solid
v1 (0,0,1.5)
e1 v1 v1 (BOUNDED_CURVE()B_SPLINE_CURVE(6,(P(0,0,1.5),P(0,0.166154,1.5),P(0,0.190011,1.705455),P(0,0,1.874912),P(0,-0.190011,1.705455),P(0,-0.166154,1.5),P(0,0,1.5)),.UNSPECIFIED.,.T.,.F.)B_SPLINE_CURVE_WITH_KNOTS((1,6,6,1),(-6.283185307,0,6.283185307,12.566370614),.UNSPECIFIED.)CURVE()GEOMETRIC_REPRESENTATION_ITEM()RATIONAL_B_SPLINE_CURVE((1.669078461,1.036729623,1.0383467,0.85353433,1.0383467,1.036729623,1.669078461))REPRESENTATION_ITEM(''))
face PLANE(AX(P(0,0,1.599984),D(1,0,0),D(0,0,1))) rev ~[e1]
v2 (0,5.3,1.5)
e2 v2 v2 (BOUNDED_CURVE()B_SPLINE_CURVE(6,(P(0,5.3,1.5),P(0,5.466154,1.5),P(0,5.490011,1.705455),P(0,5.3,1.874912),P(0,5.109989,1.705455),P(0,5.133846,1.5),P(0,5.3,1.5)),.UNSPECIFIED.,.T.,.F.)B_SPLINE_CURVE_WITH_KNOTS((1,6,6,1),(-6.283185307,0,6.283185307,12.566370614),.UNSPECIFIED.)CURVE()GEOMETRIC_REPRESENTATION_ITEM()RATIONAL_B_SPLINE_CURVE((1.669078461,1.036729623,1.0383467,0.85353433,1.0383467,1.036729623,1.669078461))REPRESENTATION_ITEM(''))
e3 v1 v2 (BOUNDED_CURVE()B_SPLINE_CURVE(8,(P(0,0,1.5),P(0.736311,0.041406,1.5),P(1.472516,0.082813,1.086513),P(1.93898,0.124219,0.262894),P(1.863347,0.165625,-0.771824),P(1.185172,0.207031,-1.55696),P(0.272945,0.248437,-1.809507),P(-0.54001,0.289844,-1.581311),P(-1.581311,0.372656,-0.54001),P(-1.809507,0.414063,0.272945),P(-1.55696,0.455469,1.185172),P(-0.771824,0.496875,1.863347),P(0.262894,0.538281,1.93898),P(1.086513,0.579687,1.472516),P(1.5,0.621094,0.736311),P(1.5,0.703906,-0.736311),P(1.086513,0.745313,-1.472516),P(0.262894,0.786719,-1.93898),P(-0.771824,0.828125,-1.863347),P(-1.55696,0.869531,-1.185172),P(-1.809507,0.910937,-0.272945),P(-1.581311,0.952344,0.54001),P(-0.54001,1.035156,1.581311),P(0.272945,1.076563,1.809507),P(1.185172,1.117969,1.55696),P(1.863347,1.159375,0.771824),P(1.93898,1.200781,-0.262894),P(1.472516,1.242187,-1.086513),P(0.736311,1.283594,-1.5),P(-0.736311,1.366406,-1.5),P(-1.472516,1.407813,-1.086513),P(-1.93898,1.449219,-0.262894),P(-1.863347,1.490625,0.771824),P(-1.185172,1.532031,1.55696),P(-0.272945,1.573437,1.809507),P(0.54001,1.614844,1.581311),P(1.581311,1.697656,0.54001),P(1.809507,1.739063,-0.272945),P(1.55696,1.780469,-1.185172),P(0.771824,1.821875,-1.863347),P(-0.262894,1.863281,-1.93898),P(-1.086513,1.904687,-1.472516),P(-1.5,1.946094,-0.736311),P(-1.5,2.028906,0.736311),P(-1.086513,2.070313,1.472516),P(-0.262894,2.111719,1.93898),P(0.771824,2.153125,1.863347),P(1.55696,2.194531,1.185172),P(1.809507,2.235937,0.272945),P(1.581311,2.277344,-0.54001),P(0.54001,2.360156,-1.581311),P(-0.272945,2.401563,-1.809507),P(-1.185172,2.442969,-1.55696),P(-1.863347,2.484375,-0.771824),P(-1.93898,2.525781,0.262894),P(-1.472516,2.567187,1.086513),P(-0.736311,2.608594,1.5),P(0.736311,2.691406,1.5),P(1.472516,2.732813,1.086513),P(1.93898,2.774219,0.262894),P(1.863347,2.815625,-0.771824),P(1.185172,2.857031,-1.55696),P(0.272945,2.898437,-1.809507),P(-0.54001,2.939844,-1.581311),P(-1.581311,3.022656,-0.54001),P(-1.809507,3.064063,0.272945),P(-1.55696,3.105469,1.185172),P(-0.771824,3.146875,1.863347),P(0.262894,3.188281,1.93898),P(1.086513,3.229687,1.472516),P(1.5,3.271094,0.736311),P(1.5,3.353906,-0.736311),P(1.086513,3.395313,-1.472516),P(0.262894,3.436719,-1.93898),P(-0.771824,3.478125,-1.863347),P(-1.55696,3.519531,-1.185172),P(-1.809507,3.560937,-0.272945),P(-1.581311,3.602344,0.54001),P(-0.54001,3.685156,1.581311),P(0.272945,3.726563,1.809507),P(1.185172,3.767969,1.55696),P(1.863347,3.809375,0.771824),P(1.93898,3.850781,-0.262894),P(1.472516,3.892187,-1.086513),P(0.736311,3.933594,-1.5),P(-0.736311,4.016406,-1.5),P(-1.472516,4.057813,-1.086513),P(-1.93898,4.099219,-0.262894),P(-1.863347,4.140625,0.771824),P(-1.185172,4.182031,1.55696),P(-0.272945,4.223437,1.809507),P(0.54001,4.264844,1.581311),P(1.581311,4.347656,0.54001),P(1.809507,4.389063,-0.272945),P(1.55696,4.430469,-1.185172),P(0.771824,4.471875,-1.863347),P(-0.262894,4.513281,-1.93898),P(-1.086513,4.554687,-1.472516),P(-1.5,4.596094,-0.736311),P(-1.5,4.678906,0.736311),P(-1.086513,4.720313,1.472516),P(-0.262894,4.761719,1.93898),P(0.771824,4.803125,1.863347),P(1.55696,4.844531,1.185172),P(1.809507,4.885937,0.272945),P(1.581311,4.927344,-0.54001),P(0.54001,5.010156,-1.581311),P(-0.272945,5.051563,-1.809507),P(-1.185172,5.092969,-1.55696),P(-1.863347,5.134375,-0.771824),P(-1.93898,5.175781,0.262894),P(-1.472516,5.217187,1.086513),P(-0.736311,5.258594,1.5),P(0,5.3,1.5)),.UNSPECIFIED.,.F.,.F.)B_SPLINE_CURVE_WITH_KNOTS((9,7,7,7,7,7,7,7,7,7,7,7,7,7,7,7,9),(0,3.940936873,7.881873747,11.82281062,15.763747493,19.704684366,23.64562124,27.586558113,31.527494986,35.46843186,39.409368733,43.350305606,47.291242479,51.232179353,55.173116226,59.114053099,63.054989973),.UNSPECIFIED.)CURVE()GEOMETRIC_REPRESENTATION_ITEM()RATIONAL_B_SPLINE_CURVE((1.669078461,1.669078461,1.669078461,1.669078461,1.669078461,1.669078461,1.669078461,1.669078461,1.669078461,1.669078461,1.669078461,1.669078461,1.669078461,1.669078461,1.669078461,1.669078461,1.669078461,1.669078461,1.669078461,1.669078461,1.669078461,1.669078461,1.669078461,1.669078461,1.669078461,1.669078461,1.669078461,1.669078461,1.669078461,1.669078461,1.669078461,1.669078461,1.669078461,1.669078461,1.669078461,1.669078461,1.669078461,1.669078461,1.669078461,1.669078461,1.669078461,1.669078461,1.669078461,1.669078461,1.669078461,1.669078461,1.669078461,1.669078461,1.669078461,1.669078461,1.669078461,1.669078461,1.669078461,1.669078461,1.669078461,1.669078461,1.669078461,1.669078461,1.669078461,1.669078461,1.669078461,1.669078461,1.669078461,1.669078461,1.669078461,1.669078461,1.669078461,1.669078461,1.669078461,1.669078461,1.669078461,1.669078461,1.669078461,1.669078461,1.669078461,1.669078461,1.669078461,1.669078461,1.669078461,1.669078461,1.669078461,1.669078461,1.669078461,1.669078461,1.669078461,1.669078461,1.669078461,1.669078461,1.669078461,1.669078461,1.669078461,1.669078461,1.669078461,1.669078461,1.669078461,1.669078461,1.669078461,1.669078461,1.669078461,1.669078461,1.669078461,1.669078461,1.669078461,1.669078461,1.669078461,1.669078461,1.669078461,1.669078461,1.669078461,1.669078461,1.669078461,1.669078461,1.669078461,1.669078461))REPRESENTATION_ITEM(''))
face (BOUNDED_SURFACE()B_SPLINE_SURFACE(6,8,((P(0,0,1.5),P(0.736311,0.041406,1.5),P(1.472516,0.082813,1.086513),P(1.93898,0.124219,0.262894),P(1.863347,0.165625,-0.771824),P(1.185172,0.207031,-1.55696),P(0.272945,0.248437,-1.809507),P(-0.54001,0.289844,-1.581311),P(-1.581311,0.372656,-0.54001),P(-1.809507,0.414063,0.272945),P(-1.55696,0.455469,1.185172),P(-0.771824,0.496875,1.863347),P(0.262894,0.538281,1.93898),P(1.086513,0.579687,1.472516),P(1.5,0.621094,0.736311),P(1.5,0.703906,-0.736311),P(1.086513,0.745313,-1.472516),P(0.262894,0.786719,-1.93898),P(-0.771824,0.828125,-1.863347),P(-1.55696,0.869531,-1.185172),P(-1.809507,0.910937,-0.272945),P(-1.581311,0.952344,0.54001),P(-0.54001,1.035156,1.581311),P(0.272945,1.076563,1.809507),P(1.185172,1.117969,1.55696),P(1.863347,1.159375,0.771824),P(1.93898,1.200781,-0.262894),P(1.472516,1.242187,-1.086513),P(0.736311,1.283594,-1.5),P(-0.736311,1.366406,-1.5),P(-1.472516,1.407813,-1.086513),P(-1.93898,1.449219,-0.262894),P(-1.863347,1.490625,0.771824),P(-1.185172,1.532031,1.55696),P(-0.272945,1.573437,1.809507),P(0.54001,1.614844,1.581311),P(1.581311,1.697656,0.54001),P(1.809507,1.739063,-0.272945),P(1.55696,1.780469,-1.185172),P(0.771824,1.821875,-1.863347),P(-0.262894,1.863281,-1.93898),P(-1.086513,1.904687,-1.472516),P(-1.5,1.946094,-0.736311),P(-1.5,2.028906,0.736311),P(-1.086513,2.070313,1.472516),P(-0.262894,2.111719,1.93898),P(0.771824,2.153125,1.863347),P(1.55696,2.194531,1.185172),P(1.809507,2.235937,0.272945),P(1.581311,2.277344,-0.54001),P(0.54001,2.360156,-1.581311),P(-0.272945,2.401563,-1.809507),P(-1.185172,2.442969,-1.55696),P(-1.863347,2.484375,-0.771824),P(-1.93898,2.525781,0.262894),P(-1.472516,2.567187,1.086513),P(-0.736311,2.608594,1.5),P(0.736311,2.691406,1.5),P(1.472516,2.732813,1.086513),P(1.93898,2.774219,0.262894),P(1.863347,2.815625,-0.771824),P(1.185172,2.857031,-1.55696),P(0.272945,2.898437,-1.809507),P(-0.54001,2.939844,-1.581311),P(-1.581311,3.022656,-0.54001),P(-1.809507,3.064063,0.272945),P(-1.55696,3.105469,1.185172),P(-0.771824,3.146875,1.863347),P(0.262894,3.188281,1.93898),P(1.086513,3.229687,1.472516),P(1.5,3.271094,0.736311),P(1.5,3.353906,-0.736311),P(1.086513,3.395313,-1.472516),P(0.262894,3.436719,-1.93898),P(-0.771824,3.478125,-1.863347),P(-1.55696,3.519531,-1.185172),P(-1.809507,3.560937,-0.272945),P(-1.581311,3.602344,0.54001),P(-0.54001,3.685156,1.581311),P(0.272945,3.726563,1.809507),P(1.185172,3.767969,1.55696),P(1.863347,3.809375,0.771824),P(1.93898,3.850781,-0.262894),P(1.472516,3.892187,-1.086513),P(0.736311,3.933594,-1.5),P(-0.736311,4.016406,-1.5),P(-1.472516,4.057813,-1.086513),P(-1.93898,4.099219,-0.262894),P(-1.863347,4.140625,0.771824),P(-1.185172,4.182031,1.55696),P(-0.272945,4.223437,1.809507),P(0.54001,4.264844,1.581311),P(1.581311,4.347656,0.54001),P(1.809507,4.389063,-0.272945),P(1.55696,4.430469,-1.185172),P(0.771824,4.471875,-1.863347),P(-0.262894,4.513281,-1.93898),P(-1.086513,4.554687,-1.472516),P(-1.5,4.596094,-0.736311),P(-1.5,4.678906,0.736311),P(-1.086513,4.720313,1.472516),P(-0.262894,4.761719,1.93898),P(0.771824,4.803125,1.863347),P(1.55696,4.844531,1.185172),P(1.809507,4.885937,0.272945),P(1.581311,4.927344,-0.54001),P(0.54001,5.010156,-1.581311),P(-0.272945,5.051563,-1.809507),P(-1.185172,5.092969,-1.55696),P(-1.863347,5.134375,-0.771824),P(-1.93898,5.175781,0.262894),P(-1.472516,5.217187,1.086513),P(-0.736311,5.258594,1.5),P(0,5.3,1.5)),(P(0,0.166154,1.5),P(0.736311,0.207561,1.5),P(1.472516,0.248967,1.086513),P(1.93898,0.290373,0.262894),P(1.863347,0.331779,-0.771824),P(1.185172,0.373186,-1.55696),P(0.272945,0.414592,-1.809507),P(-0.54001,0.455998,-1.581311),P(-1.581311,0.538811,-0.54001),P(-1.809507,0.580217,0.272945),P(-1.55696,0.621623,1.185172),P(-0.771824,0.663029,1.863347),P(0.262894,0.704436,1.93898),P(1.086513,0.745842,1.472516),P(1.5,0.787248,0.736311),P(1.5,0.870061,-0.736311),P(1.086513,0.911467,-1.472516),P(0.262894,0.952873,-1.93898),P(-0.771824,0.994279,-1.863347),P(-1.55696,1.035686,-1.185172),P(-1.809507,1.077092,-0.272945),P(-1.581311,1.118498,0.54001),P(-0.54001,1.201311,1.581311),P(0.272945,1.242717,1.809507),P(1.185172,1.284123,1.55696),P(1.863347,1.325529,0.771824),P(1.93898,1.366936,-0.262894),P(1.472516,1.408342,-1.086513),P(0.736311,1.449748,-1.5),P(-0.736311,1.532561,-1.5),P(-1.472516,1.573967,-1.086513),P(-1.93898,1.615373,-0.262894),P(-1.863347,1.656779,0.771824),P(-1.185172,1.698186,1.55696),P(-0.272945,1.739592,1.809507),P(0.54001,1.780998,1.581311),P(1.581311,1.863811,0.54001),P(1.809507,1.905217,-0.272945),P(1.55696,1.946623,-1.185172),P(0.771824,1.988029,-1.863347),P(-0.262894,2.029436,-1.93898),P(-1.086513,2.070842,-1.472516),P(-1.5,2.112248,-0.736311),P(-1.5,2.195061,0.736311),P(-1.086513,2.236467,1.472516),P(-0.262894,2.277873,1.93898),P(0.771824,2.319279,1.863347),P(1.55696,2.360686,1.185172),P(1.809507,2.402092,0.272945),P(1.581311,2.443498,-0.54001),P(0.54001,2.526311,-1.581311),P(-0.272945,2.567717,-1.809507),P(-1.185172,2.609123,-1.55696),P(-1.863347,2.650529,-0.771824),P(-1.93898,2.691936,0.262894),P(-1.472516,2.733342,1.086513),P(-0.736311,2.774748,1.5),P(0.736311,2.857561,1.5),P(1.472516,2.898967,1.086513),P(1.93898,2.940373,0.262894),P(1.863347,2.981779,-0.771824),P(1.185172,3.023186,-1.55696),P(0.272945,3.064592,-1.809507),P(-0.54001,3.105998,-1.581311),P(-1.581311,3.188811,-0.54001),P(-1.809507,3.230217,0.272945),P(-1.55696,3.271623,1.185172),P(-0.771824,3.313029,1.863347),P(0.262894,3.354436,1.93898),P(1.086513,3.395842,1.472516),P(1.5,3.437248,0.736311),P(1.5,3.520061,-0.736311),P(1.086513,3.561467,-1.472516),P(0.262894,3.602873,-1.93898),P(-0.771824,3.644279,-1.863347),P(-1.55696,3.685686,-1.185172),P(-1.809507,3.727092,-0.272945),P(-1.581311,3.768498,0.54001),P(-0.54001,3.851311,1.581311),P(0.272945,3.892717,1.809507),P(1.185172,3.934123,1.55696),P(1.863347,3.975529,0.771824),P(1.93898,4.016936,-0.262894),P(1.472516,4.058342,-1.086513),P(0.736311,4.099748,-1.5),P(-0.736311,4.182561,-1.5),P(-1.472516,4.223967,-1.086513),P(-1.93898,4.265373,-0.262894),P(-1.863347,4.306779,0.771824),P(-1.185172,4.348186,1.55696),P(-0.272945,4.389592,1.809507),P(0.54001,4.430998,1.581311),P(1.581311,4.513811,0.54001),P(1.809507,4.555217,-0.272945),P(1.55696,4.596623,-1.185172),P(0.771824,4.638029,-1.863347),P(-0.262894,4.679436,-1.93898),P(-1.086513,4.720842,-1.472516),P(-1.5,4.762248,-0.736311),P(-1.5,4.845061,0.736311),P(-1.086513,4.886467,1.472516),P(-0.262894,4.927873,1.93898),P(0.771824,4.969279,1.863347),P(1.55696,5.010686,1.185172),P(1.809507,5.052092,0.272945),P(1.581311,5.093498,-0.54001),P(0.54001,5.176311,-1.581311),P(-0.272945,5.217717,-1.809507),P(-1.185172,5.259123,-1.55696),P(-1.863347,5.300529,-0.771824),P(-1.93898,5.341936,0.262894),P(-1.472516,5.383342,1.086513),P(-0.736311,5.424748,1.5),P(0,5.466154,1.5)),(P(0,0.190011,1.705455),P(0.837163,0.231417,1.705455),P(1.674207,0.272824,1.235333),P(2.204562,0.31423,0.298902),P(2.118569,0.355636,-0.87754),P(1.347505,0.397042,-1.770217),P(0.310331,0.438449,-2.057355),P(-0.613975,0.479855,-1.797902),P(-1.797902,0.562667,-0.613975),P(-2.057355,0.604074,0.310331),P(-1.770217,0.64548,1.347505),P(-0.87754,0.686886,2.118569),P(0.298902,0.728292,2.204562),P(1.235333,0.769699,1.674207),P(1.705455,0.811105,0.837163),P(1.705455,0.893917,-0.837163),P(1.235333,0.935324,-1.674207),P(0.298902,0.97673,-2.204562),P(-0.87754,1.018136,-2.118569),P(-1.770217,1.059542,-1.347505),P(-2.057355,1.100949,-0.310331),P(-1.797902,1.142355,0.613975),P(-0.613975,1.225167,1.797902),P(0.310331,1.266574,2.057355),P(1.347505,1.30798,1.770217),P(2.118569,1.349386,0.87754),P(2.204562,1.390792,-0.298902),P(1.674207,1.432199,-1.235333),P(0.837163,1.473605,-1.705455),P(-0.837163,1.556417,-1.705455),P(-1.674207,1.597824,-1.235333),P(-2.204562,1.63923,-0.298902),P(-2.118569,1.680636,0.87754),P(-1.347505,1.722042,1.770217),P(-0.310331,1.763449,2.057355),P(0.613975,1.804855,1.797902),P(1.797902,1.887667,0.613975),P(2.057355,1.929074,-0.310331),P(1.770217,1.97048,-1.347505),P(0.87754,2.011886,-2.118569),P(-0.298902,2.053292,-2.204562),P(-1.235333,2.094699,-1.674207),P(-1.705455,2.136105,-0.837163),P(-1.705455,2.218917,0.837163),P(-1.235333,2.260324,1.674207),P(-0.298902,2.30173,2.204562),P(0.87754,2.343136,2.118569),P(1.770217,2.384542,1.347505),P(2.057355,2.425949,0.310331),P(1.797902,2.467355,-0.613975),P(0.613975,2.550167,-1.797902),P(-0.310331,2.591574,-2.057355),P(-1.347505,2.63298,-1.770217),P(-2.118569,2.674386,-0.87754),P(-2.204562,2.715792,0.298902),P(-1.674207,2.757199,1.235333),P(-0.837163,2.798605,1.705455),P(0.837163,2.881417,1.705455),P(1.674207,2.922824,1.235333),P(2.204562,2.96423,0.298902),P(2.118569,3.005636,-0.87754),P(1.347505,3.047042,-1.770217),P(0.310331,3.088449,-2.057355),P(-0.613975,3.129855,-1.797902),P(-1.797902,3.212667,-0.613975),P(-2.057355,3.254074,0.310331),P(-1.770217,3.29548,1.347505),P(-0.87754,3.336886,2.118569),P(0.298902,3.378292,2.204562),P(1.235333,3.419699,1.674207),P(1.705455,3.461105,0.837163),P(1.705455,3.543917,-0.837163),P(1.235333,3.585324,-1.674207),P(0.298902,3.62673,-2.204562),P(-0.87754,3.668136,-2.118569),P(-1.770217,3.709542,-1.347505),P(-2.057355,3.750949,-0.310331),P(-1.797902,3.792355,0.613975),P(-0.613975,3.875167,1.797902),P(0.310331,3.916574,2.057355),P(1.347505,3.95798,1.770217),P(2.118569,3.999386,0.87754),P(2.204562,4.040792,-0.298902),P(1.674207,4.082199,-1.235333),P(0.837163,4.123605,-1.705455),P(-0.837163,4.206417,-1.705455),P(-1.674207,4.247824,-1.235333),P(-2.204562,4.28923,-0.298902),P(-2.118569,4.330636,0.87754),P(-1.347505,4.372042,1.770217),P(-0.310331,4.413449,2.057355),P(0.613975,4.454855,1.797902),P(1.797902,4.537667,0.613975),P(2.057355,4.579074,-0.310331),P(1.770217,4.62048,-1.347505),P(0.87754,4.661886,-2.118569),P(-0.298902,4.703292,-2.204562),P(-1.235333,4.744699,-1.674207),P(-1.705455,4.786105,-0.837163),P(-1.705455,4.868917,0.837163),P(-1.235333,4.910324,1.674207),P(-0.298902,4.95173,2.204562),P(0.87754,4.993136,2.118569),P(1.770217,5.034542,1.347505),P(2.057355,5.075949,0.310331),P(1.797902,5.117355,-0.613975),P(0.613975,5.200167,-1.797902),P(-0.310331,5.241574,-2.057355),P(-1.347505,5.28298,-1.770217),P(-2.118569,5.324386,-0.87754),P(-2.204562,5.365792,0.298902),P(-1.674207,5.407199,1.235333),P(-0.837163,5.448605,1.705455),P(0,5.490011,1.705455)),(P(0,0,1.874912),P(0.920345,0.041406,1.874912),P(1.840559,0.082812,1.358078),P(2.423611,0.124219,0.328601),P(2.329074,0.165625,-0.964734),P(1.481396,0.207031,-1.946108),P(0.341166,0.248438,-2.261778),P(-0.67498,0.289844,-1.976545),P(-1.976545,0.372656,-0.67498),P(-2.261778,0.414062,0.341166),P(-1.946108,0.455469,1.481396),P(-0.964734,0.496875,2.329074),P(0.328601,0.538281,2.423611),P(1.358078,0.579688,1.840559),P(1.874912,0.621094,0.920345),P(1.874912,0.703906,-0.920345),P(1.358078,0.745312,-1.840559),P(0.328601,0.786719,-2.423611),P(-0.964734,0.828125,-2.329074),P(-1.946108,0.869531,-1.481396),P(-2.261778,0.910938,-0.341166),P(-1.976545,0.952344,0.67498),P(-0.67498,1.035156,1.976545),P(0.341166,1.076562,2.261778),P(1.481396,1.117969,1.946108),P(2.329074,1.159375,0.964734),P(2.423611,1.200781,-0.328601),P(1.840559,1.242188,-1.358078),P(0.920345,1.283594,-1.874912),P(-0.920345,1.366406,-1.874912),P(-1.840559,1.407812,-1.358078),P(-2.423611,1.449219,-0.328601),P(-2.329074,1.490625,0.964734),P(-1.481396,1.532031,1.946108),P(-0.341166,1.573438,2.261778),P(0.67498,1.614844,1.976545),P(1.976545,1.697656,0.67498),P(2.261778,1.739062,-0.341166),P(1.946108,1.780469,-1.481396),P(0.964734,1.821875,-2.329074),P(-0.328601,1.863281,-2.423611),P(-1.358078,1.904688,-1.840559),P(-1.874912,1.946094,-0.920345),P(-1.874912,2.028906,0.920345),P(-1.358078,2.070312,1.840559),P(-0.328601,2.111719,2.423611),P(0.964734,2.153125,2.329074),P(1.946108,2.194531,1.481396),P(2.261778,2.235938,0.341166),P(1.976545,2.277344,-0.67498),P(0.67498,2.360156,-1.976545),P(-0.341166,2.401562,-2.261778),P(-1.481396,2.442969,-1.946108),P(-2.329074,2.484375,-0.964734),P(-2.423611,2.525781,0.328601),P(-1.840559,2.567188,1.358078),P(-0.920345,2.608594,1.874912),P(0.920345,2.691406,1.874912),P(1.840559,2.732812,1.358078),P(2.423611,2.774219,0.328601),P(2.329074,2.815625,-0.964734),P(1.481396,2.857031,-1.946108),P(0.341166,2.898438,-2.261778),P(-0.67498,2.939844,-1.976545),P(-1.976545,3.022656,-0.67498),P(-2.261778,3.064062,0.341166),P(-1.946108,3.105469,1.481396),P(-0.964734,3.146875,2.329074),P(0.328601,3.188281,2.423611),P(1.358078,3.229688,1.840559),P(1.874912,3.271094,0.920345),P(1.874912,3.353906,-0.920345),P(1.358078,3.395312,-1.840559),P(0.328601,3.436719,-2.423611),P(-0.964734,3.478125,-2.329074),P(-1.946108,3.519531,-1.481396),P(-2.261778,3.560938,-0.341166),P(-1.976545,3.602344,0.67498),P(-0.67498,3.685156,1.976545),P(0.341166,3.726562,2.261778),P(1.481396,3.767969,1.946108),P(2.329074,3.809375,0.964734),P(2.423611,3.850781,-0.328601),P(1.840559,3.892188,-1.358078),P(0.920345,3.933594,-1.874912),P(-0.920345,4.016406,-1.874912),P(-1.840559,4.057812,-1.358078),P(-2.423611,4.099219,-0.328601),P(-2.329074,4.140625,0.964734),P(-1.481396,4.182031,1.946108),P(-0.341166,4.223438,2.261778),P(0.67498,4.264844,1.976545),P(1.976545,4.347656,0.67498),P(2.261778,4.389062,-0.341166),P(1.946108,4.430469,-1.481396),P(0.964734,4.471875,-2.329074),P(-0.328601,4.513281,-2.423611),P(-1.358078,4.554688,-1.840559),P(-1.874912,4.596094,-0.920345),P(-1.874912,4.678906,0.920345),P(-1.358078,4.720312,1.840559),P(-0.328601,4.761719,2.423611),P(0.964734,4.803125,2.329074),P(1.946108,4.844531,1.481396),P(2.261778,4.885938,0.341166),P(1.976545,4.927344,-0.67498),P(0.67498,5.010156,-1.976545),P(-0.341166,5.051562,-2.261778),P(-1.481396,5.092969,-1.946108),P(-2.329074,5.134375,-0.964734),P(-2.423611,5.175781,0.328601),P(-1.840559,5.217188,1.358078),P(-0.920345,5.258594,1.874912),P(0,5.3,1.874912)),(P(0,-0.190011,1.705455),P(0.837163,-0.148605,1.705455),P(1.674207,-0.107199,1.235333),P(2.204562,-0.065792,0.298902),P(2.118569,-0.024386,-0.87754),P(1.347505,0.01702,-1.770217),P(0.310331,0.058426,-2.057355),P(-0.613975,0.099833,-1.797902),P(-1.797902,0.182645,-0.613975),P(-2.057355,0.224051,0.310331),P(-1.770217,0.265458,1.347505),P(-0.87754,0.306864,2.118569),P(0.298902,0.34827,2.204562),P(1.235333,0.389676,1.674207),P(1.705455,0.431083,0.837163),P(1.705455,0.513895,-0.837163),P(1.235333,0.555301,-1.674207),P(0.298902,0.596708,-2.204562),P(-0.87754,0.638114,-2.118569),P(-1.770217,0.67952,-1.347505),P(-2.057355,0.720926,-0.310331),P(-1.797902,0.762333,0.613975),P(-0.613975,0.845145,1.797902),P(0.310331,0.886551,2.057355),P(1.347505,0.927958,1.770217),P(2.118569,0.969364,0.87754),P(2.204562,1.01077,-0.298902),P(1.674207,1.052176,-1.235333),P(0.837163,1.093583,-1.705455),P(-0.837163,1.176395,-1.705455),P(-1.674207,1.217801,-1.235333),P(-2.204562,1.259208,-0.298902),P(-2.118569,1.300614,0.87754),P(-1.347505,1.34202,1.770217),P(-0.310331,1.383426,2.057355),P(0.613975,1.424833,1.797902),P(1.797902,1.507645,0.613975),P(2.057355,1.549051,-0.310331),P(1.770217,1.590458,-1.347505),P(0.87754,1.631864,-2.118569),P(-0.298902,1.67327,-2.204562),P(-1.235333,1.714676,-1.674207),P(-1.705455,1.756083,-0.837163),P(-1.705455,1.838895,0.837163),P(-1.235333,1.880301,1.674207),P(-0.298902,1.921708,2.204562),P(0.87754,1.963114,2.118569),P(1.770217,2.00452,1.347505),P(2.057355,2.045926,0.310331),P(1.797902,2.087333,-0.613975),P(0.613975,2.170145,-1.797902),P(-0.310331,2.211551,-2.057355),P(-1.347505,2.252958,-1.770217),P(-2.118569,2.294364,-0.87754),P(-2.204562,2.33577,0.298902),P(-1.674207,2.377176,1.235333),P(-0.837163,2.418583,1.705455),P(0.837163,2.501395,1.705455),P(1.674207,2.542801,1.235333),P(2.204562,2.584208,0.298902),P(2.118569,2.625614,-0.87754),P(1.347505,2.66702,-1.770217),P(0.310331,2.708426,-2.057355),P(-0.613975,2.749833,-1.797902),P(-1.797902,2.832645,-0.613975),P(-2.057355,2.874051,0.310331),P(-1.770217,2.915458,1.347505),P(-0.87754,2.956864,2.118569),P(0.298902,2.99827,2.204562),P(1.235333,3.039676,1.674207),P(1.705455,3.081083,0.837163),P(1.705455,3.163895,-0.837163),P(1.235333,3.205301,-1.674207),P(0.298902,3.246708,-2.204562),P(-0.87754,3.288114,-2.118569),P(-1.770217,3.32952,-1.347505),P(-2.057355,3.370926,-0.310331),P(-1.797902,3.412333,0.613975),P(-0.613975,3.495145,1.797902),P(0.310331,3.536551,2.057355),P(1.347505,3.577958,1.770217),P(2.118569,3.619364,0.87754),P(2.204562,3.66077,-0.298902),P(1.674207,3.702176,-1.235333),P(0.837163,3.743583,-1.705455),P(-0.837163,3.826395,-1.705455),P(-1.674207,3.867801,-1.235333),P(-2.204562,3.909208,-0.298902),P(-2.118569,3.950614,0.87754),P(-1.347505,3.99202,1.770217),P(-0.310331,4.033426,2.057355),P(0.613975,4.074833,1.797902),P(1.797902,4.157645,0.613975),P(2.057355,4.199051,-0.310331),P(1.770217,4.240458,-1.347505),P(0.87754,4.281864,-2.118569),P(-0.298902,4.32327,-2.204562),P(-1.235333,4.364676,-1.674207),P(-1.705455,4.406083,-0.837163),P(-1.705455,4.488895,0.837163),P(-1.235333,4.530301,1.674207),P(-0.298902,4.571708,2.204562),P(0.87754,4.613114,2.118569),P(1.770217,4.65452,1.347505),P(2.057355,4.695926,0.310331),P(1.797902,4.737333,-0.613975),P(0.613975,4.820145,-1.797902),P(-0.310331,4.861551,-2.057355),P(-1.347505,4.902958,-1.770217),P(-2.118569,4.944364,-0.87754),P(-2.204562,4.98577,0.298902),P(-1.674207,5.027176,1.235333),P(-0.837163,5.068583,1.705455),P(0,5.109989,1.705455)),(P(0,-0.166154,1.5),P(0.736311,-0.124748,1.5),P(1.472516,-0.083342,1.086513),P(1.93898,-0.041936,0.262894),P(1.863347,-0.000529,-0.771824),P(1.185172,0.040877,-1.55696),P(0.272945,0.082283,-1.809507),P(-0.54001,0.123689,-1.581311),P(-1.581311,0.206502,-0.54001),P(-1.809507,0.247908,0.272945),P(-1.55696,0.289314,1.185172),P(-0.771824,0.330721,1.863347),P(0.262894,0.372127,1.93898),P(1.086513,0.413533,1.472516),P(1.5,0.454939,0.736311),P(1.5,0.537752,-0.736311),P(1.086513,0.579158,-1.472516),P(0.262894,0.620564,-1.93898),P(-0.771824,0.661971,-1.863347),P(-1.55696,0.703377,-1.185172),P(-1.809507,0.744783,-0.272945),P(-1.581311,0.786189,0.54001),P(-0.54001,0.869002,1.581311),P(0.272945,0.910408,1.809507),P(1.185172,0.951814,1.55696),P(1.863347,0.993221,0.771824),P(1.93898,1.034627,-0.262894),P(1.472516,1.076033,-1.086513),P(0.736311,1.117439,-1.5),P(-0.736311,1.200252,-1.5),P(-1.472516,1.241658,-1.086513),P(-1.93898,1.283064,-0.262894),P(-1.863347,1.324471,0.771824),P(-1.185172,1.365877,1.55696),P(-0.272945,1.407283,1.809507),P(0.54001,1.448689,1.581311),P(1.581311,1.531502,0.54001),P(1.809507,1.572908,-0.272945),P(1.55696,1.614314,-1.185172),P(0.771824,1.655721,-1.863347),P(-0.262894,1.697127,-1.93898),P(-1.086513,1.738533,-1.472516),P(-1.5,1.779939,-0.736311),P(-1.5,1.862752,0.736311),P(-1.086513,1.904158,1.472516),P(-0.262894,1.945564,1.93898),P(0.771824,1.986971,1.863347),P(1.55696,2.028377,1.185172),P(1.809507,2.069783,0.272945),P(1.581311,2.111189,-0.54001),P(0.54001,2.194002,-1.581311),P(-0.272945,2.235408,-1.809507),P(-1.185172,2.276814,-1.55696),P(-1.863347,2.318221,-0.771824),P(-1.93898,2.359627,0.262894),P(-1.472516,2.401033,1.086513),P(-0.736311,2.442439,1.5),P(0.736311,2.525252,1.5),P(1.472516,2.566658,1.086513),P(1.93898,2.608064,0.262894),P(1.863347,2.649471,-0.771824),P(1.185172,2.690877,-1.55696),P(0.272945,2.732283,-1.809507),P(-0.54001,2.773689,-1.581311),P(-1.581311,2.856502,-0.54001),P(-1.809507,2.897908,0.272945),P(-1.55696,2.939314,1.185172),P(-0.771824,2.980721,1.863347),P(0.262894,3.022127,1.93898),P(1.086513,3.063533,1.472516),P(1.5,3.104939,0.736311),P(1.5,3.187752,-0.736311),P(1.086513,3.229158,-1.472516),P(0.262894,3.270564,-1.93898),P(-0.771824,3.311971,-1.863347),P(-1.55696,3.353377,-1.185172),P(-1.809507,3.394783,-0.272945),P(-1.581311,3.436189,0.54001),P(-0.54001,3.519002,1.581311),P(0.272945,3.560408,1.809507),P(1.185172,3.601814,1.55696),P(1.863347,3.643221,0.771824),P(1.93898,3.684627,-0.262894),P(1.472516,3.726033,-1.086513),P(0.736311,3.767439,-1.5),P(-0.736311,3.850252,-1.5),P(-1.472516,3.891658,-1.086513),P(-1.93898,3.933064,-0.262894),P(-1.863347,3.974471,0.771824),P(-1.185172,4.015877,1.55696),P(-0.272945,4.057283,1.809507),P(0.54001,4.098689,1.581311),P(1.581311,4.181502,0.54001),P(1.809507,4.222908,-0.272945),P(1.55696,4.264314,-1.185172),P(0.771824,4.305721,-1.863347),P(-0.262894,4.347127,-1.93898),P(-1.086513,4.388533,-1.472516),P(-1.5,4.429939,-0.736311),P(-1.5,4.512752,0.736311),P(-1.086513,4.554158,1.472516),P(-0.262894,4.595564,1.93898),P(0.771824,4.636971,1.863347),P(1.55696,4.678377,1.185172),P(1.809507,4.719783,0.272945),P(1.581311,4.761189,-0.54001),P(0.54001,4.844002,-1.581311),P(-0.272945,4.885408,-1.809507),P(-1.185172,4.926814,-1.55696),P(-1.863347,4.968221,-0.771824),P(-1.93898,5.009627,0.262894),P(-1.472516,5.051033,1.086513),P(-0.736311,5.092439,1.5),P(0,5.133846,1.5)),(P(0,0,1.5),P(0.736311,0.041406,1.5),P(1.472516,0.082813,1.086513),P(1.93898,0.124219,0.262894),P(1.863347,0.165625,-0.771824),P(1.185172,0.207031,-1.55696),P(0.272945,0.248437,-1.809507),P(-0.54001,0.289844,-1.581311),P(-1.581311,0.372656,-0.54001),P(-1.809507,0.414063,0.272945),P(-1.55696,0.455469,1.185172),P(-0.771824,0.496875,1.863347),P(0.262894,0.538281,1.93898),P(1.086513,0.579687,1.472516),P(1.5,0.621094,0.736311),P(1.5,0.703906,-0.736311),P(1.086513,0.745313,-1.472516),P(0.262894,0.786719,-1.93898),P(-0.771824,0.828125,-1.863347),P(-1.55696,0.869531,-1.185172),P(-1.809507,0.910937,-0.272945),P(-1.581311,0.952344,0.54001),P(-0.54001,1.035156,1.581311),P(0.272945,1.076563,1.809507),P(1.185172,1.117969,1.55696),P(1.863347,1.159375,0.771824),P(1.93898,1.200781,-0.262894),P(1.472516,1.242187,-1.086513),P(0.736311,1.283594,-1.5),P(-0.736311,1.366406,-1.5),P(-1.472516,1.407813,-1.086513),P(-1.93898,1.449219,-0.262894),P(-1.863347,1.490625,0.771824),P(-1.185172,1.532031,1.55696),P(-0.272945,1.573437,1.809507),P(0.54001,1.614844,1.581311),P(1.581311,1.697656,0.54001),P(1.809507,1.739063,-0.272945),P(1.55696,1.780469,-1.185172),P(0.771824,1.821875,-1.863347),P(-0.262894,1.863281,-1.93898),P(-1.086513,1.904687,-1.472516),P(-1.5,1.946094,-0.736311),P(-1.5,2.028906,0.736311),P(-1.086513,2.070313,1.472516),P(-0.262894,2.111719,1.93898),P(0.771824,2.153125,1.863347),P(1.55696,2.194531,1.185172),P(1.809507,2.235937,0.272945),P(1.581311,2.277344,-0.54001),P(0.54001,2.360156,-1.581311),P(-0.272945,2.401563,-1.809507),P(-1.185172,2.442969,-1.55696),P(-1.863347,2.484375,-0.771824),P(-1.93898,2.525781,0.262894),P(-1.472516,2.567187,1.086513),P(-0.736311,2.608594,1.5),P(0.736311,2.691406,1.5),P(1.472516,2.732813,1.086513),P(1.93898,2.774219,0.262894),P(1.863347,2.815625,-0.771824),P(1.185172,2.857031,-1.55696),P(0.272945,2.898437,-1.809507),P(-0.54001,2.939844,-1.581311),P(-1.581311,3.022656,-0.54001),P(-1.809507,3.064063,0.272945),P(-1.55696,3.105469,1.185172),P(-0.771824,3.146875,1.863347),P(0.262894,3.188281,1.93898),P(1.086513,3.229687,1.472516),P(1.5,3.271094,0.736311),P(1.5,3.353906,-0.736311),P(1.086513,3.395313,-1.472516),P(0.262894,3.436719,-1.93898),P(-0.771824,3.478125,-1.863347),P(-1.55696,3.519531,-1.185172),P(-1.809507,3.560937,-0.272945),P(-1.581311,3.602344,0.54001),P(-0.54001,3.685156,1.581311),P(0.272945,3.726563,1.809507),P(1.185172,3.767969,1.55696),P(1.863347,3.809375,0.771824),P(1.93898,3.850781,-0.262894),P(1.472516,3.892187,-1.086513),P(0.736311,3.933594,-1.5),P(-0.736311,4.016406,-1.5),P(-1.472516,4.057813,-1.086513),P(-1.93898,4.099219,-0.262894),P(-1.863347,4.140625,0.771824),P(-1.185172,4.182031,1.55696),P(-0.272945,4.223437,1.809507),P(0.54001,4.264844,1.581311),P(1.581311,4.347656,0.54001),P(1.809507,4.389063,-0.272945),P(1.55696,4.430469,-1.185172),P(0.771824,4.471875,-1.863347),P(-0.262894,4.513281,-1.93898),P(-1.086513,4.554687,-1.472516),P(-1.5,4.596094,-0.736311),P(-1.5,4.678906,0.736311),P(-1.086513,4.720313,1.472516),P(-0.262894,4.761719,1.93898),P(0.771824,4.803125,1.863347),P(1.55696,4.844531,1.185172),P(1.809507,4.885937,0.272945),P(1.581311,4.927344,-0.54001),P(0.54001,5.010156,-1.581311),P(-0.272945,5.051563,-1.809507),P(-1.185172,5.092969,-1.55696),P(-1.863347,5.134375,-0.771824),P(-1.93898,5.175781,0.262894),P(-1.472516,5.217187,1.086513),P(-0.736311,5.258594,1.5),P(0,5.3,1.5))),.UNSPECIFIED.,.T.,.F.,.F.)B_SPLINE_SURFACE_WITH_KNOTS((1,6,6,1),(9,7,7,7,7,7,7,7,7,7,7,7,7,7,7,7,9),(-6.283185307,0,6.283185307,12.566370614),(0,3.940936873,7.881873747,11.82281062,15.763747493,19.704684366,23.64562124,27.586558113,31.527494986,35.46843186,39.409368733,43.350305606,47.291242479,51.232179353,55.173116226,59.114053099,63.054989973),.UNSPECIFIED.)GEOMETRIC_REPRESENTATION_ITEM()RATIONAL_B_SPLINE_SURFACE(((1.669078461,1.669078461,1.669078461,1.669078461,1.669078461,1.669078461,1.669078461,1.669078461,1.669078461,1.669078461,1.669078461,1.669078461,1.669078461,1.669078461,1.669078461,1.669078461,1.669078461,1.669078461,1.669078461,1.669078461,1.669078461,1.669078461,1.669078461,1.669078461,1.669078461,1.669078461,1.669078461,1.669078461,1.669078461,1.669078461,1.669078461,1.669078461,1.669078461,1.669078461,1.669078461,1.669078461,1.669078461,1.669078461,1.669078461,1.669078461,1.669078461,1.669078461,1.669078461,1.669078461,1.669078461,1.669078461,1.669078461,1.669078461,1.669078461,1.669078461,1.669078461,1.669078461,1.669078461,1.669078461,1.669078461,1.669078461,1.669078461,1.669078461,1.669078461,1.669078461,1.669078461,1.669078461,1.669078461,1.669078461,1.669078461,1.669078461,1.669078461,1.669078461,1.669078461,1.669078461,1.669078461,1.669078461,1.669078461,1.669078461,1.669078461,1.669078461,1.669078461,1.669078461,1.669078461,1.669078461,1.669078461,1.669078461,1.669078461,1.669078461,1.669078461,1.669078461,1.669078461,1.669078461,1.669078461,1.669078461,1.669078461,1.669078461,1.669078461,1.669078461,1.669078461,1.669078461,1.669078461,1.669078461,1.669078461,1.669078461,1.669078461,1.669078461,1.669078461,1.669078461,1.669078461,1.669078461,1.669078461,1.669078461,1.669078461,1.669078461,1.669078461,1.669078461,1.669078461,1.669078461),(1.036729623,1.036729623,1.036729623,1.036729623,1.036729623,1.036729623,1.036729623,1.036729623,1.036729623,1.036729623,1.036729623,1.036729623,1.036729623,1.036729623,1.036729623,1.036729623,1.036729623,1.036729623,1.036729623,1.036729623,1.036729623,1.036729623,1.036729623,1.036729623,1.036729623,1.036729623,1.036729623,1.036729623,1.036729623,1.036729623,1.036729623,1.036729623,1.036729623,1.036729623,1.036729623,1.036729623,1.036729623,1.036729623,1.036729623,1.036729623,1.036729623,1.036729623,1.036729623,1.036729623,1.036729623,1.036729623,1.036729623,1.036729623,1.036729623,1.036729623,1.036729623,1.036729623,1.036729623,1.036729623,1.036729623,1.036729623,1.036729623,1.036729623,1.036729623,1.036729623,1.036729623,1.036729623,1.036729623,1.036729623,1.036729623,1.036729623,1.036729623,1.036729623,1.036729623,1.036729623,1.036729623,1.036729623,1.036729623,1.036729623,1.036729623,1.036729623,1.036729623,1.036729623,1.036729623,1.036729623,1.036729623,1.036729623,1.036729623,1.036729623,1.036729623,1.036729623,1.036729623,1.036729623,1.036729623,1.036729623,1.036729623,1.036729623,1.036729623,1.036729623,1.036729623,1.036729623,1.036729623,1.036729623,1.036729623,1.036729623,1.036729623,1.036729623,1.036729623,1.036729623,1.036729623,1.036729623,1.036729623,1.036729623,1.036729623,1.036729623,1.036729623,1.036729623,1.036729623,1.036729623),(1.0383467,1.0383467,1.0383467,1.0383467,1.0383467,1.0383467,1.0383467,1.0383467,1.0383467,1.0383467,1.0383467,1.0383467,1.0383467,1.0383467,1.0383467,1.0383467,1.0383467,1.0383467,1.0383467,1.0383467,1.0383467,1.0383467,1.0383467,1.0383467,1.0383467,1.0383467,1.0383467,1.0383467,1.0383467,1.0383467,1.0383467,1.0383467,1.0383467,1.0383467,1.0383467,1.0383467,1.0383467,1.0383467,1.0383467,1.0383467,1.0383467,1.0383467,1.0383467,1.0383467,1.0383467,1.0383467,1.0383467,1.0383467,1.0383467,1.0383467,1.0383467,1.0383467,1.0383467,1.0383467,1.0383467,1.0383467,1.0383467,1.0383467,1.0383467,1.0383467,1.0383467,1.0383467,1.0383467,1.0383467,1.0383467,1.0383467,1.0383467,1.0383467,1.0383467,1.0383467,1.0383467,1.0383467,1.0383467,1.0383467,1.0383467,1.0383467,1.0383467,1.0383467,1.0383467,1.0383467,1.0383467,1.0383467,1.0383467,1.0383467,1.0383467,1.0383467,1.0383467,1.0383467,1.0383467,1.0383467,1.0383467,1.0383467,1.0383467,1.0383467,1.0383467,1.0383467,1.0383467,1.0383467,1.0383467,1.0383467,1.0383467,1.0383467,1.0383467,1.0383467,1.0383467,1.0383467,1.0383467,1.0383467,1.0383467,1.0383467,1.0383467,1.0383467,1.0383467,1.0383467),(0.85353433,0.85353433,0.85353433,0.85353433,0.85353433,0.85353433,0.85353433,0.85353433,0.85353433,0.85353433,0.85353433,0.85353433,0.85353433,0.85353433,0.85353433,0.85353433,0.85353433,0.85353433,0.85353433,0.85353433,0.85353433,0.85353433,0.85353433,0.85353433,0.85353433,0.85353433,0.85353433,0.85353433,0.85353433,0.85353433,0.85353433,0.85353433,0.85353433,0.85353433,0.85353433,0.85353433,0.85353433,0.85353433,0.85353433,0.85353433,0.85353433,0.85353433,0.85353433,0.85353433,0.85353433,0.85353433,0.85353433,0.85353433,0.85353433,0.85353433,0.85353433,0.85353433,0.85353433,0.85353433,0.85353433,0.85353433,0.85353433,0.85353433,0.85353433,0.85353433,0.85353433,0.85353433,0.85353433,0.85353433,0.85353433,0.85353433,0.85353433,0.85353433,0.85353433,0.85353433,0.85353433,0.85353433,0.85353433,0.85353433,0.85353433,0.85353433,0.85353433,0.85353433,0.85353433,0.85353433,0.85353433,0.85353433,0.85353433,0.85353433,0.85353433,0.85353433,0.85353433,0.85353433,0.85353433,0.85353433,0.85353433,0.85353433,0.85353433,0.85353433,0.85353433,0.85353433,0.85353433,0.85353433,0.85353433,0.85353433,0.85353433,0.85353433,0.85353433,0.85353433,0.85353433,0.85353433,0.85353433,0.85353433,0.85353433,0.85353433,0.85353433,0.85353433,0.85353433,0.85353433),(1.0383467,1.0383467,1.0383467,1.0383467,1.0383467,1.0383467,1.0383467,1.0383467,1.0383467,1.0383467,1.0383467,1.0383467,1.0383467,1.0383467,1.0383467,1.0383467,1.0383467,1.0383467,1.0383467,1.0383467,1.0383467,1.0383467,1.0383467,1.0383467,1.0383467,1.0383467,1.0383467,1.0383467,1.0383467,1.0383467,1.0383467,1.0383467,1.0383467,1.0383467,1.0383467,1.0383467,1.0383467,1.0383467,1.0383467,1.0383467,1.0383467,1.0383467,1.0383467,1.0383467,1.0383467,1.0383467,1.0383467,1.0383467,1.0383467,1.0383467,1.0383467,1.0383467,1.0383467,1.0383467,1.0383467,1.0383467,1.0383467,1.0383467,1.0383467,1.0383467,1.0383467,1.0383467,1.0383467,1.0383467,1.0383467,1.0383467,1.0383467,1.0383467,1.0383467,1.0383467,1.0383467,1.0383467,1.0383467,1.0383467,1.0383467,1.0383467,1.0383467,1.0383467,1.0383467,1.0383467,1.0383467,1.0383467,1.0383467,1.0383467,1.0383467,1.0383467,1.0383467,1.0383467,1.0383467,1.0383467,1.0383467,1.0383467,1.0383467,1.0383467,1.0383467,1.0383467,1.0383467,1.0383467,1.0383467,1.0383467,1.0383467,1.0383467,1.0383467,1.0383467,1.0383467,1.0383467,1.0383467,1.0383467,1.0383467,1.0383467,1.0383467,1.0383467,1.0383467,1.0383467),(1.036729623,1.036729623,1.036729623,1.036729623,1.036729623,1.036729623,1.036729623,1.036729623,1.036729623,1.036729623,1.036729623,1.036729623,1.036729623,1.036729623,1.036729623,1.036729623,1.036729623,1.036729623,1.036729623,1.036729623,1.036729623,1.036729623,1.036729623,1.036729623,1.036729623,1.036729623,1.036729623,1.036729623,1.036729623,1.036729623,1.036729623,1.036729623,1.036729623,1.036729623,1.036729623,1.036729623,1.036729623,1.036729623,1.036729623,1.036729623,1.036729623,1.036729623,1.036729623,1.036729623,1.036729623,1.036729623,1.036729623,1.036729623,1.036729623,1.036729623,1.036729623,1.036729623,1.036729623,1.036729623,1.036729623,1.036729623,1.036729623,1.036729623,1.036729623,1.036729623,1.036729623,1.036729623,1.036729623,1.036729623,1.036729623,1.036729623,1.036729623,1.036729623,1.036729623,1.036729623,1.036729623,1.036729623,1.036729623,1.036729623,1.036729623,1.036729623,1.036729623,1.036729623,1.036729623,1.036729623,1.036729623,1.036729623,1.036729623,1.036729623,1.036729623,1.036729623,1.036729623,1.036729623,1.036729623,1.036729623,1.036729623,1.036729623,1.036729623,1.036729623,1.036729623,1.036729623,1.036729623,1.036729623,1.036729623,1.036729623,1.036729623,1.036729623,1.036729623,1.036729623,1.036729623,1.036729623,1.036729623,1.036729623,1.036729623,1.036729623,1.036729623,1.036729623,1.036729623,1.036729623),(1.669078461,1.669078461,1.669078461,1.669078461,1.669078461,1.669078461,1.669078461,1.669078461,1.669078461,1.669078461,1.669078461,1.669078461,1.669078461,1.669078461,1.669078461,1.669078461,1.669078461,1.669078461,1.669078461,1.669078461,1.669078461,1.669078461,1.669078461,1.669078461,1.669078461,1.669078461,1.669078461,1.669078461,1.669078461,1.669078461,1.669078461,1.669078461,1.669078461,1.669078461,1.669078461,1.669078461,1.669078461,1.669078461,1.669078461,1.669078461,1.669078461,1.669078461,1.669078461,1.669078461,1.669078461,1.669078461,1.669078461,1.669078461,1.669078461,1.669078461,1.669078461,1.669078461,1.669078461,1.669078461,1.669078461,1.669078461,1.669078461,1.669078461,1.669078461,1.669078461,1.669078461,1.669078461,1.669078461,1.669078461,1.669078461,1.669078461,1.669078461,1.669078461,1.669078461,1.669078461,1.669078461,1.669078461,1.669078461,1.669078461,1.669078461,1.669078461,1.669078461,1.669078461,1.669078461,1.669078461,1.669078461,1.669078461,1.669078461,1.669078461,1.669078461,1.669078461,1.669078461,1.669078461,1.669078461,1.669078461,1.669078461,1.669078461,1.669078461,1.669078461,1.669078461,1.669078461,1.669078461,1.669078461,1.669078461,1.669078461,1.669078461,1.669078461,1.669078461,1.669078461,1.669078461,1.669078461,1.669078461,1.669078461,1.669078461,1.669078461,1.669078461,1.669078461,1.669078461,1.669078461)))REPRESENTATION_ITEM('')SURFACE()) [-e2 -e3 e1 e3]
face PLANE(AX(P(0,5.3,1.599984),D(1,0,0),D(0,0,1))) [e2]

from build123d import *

# Parameters (mm, degrees)
SWEEP1_PITCH  = 0.53
SWEEP1_HEIGHT = 5.3
SWEEP1_RADIUS = 1.6
SKETCH3_R     = 0.1


with BuildPart() as part:
    # Sweep1: sweep along a helix
    with BuildLine() as sweep1_path:
        Helix(SWEEP1_PITCH, SWEEP1_HEIGHT, SWEEP1_RADIUS, center=(0, 0, 0), direction=(0, 1, 0))
    # Sketch3 → Sweep1 (sweep)
    with BuildSketch(Plane(origin=(0, 0, 0), x_dir=(0, 0, -1), z_dir=(1, 0, 0))):
        with Locations((-1.6, 0)):
            Circle(SKETCH3_R)
    sweep(path=sweep1_path.line, is_frenet=True)


solid = part.part
